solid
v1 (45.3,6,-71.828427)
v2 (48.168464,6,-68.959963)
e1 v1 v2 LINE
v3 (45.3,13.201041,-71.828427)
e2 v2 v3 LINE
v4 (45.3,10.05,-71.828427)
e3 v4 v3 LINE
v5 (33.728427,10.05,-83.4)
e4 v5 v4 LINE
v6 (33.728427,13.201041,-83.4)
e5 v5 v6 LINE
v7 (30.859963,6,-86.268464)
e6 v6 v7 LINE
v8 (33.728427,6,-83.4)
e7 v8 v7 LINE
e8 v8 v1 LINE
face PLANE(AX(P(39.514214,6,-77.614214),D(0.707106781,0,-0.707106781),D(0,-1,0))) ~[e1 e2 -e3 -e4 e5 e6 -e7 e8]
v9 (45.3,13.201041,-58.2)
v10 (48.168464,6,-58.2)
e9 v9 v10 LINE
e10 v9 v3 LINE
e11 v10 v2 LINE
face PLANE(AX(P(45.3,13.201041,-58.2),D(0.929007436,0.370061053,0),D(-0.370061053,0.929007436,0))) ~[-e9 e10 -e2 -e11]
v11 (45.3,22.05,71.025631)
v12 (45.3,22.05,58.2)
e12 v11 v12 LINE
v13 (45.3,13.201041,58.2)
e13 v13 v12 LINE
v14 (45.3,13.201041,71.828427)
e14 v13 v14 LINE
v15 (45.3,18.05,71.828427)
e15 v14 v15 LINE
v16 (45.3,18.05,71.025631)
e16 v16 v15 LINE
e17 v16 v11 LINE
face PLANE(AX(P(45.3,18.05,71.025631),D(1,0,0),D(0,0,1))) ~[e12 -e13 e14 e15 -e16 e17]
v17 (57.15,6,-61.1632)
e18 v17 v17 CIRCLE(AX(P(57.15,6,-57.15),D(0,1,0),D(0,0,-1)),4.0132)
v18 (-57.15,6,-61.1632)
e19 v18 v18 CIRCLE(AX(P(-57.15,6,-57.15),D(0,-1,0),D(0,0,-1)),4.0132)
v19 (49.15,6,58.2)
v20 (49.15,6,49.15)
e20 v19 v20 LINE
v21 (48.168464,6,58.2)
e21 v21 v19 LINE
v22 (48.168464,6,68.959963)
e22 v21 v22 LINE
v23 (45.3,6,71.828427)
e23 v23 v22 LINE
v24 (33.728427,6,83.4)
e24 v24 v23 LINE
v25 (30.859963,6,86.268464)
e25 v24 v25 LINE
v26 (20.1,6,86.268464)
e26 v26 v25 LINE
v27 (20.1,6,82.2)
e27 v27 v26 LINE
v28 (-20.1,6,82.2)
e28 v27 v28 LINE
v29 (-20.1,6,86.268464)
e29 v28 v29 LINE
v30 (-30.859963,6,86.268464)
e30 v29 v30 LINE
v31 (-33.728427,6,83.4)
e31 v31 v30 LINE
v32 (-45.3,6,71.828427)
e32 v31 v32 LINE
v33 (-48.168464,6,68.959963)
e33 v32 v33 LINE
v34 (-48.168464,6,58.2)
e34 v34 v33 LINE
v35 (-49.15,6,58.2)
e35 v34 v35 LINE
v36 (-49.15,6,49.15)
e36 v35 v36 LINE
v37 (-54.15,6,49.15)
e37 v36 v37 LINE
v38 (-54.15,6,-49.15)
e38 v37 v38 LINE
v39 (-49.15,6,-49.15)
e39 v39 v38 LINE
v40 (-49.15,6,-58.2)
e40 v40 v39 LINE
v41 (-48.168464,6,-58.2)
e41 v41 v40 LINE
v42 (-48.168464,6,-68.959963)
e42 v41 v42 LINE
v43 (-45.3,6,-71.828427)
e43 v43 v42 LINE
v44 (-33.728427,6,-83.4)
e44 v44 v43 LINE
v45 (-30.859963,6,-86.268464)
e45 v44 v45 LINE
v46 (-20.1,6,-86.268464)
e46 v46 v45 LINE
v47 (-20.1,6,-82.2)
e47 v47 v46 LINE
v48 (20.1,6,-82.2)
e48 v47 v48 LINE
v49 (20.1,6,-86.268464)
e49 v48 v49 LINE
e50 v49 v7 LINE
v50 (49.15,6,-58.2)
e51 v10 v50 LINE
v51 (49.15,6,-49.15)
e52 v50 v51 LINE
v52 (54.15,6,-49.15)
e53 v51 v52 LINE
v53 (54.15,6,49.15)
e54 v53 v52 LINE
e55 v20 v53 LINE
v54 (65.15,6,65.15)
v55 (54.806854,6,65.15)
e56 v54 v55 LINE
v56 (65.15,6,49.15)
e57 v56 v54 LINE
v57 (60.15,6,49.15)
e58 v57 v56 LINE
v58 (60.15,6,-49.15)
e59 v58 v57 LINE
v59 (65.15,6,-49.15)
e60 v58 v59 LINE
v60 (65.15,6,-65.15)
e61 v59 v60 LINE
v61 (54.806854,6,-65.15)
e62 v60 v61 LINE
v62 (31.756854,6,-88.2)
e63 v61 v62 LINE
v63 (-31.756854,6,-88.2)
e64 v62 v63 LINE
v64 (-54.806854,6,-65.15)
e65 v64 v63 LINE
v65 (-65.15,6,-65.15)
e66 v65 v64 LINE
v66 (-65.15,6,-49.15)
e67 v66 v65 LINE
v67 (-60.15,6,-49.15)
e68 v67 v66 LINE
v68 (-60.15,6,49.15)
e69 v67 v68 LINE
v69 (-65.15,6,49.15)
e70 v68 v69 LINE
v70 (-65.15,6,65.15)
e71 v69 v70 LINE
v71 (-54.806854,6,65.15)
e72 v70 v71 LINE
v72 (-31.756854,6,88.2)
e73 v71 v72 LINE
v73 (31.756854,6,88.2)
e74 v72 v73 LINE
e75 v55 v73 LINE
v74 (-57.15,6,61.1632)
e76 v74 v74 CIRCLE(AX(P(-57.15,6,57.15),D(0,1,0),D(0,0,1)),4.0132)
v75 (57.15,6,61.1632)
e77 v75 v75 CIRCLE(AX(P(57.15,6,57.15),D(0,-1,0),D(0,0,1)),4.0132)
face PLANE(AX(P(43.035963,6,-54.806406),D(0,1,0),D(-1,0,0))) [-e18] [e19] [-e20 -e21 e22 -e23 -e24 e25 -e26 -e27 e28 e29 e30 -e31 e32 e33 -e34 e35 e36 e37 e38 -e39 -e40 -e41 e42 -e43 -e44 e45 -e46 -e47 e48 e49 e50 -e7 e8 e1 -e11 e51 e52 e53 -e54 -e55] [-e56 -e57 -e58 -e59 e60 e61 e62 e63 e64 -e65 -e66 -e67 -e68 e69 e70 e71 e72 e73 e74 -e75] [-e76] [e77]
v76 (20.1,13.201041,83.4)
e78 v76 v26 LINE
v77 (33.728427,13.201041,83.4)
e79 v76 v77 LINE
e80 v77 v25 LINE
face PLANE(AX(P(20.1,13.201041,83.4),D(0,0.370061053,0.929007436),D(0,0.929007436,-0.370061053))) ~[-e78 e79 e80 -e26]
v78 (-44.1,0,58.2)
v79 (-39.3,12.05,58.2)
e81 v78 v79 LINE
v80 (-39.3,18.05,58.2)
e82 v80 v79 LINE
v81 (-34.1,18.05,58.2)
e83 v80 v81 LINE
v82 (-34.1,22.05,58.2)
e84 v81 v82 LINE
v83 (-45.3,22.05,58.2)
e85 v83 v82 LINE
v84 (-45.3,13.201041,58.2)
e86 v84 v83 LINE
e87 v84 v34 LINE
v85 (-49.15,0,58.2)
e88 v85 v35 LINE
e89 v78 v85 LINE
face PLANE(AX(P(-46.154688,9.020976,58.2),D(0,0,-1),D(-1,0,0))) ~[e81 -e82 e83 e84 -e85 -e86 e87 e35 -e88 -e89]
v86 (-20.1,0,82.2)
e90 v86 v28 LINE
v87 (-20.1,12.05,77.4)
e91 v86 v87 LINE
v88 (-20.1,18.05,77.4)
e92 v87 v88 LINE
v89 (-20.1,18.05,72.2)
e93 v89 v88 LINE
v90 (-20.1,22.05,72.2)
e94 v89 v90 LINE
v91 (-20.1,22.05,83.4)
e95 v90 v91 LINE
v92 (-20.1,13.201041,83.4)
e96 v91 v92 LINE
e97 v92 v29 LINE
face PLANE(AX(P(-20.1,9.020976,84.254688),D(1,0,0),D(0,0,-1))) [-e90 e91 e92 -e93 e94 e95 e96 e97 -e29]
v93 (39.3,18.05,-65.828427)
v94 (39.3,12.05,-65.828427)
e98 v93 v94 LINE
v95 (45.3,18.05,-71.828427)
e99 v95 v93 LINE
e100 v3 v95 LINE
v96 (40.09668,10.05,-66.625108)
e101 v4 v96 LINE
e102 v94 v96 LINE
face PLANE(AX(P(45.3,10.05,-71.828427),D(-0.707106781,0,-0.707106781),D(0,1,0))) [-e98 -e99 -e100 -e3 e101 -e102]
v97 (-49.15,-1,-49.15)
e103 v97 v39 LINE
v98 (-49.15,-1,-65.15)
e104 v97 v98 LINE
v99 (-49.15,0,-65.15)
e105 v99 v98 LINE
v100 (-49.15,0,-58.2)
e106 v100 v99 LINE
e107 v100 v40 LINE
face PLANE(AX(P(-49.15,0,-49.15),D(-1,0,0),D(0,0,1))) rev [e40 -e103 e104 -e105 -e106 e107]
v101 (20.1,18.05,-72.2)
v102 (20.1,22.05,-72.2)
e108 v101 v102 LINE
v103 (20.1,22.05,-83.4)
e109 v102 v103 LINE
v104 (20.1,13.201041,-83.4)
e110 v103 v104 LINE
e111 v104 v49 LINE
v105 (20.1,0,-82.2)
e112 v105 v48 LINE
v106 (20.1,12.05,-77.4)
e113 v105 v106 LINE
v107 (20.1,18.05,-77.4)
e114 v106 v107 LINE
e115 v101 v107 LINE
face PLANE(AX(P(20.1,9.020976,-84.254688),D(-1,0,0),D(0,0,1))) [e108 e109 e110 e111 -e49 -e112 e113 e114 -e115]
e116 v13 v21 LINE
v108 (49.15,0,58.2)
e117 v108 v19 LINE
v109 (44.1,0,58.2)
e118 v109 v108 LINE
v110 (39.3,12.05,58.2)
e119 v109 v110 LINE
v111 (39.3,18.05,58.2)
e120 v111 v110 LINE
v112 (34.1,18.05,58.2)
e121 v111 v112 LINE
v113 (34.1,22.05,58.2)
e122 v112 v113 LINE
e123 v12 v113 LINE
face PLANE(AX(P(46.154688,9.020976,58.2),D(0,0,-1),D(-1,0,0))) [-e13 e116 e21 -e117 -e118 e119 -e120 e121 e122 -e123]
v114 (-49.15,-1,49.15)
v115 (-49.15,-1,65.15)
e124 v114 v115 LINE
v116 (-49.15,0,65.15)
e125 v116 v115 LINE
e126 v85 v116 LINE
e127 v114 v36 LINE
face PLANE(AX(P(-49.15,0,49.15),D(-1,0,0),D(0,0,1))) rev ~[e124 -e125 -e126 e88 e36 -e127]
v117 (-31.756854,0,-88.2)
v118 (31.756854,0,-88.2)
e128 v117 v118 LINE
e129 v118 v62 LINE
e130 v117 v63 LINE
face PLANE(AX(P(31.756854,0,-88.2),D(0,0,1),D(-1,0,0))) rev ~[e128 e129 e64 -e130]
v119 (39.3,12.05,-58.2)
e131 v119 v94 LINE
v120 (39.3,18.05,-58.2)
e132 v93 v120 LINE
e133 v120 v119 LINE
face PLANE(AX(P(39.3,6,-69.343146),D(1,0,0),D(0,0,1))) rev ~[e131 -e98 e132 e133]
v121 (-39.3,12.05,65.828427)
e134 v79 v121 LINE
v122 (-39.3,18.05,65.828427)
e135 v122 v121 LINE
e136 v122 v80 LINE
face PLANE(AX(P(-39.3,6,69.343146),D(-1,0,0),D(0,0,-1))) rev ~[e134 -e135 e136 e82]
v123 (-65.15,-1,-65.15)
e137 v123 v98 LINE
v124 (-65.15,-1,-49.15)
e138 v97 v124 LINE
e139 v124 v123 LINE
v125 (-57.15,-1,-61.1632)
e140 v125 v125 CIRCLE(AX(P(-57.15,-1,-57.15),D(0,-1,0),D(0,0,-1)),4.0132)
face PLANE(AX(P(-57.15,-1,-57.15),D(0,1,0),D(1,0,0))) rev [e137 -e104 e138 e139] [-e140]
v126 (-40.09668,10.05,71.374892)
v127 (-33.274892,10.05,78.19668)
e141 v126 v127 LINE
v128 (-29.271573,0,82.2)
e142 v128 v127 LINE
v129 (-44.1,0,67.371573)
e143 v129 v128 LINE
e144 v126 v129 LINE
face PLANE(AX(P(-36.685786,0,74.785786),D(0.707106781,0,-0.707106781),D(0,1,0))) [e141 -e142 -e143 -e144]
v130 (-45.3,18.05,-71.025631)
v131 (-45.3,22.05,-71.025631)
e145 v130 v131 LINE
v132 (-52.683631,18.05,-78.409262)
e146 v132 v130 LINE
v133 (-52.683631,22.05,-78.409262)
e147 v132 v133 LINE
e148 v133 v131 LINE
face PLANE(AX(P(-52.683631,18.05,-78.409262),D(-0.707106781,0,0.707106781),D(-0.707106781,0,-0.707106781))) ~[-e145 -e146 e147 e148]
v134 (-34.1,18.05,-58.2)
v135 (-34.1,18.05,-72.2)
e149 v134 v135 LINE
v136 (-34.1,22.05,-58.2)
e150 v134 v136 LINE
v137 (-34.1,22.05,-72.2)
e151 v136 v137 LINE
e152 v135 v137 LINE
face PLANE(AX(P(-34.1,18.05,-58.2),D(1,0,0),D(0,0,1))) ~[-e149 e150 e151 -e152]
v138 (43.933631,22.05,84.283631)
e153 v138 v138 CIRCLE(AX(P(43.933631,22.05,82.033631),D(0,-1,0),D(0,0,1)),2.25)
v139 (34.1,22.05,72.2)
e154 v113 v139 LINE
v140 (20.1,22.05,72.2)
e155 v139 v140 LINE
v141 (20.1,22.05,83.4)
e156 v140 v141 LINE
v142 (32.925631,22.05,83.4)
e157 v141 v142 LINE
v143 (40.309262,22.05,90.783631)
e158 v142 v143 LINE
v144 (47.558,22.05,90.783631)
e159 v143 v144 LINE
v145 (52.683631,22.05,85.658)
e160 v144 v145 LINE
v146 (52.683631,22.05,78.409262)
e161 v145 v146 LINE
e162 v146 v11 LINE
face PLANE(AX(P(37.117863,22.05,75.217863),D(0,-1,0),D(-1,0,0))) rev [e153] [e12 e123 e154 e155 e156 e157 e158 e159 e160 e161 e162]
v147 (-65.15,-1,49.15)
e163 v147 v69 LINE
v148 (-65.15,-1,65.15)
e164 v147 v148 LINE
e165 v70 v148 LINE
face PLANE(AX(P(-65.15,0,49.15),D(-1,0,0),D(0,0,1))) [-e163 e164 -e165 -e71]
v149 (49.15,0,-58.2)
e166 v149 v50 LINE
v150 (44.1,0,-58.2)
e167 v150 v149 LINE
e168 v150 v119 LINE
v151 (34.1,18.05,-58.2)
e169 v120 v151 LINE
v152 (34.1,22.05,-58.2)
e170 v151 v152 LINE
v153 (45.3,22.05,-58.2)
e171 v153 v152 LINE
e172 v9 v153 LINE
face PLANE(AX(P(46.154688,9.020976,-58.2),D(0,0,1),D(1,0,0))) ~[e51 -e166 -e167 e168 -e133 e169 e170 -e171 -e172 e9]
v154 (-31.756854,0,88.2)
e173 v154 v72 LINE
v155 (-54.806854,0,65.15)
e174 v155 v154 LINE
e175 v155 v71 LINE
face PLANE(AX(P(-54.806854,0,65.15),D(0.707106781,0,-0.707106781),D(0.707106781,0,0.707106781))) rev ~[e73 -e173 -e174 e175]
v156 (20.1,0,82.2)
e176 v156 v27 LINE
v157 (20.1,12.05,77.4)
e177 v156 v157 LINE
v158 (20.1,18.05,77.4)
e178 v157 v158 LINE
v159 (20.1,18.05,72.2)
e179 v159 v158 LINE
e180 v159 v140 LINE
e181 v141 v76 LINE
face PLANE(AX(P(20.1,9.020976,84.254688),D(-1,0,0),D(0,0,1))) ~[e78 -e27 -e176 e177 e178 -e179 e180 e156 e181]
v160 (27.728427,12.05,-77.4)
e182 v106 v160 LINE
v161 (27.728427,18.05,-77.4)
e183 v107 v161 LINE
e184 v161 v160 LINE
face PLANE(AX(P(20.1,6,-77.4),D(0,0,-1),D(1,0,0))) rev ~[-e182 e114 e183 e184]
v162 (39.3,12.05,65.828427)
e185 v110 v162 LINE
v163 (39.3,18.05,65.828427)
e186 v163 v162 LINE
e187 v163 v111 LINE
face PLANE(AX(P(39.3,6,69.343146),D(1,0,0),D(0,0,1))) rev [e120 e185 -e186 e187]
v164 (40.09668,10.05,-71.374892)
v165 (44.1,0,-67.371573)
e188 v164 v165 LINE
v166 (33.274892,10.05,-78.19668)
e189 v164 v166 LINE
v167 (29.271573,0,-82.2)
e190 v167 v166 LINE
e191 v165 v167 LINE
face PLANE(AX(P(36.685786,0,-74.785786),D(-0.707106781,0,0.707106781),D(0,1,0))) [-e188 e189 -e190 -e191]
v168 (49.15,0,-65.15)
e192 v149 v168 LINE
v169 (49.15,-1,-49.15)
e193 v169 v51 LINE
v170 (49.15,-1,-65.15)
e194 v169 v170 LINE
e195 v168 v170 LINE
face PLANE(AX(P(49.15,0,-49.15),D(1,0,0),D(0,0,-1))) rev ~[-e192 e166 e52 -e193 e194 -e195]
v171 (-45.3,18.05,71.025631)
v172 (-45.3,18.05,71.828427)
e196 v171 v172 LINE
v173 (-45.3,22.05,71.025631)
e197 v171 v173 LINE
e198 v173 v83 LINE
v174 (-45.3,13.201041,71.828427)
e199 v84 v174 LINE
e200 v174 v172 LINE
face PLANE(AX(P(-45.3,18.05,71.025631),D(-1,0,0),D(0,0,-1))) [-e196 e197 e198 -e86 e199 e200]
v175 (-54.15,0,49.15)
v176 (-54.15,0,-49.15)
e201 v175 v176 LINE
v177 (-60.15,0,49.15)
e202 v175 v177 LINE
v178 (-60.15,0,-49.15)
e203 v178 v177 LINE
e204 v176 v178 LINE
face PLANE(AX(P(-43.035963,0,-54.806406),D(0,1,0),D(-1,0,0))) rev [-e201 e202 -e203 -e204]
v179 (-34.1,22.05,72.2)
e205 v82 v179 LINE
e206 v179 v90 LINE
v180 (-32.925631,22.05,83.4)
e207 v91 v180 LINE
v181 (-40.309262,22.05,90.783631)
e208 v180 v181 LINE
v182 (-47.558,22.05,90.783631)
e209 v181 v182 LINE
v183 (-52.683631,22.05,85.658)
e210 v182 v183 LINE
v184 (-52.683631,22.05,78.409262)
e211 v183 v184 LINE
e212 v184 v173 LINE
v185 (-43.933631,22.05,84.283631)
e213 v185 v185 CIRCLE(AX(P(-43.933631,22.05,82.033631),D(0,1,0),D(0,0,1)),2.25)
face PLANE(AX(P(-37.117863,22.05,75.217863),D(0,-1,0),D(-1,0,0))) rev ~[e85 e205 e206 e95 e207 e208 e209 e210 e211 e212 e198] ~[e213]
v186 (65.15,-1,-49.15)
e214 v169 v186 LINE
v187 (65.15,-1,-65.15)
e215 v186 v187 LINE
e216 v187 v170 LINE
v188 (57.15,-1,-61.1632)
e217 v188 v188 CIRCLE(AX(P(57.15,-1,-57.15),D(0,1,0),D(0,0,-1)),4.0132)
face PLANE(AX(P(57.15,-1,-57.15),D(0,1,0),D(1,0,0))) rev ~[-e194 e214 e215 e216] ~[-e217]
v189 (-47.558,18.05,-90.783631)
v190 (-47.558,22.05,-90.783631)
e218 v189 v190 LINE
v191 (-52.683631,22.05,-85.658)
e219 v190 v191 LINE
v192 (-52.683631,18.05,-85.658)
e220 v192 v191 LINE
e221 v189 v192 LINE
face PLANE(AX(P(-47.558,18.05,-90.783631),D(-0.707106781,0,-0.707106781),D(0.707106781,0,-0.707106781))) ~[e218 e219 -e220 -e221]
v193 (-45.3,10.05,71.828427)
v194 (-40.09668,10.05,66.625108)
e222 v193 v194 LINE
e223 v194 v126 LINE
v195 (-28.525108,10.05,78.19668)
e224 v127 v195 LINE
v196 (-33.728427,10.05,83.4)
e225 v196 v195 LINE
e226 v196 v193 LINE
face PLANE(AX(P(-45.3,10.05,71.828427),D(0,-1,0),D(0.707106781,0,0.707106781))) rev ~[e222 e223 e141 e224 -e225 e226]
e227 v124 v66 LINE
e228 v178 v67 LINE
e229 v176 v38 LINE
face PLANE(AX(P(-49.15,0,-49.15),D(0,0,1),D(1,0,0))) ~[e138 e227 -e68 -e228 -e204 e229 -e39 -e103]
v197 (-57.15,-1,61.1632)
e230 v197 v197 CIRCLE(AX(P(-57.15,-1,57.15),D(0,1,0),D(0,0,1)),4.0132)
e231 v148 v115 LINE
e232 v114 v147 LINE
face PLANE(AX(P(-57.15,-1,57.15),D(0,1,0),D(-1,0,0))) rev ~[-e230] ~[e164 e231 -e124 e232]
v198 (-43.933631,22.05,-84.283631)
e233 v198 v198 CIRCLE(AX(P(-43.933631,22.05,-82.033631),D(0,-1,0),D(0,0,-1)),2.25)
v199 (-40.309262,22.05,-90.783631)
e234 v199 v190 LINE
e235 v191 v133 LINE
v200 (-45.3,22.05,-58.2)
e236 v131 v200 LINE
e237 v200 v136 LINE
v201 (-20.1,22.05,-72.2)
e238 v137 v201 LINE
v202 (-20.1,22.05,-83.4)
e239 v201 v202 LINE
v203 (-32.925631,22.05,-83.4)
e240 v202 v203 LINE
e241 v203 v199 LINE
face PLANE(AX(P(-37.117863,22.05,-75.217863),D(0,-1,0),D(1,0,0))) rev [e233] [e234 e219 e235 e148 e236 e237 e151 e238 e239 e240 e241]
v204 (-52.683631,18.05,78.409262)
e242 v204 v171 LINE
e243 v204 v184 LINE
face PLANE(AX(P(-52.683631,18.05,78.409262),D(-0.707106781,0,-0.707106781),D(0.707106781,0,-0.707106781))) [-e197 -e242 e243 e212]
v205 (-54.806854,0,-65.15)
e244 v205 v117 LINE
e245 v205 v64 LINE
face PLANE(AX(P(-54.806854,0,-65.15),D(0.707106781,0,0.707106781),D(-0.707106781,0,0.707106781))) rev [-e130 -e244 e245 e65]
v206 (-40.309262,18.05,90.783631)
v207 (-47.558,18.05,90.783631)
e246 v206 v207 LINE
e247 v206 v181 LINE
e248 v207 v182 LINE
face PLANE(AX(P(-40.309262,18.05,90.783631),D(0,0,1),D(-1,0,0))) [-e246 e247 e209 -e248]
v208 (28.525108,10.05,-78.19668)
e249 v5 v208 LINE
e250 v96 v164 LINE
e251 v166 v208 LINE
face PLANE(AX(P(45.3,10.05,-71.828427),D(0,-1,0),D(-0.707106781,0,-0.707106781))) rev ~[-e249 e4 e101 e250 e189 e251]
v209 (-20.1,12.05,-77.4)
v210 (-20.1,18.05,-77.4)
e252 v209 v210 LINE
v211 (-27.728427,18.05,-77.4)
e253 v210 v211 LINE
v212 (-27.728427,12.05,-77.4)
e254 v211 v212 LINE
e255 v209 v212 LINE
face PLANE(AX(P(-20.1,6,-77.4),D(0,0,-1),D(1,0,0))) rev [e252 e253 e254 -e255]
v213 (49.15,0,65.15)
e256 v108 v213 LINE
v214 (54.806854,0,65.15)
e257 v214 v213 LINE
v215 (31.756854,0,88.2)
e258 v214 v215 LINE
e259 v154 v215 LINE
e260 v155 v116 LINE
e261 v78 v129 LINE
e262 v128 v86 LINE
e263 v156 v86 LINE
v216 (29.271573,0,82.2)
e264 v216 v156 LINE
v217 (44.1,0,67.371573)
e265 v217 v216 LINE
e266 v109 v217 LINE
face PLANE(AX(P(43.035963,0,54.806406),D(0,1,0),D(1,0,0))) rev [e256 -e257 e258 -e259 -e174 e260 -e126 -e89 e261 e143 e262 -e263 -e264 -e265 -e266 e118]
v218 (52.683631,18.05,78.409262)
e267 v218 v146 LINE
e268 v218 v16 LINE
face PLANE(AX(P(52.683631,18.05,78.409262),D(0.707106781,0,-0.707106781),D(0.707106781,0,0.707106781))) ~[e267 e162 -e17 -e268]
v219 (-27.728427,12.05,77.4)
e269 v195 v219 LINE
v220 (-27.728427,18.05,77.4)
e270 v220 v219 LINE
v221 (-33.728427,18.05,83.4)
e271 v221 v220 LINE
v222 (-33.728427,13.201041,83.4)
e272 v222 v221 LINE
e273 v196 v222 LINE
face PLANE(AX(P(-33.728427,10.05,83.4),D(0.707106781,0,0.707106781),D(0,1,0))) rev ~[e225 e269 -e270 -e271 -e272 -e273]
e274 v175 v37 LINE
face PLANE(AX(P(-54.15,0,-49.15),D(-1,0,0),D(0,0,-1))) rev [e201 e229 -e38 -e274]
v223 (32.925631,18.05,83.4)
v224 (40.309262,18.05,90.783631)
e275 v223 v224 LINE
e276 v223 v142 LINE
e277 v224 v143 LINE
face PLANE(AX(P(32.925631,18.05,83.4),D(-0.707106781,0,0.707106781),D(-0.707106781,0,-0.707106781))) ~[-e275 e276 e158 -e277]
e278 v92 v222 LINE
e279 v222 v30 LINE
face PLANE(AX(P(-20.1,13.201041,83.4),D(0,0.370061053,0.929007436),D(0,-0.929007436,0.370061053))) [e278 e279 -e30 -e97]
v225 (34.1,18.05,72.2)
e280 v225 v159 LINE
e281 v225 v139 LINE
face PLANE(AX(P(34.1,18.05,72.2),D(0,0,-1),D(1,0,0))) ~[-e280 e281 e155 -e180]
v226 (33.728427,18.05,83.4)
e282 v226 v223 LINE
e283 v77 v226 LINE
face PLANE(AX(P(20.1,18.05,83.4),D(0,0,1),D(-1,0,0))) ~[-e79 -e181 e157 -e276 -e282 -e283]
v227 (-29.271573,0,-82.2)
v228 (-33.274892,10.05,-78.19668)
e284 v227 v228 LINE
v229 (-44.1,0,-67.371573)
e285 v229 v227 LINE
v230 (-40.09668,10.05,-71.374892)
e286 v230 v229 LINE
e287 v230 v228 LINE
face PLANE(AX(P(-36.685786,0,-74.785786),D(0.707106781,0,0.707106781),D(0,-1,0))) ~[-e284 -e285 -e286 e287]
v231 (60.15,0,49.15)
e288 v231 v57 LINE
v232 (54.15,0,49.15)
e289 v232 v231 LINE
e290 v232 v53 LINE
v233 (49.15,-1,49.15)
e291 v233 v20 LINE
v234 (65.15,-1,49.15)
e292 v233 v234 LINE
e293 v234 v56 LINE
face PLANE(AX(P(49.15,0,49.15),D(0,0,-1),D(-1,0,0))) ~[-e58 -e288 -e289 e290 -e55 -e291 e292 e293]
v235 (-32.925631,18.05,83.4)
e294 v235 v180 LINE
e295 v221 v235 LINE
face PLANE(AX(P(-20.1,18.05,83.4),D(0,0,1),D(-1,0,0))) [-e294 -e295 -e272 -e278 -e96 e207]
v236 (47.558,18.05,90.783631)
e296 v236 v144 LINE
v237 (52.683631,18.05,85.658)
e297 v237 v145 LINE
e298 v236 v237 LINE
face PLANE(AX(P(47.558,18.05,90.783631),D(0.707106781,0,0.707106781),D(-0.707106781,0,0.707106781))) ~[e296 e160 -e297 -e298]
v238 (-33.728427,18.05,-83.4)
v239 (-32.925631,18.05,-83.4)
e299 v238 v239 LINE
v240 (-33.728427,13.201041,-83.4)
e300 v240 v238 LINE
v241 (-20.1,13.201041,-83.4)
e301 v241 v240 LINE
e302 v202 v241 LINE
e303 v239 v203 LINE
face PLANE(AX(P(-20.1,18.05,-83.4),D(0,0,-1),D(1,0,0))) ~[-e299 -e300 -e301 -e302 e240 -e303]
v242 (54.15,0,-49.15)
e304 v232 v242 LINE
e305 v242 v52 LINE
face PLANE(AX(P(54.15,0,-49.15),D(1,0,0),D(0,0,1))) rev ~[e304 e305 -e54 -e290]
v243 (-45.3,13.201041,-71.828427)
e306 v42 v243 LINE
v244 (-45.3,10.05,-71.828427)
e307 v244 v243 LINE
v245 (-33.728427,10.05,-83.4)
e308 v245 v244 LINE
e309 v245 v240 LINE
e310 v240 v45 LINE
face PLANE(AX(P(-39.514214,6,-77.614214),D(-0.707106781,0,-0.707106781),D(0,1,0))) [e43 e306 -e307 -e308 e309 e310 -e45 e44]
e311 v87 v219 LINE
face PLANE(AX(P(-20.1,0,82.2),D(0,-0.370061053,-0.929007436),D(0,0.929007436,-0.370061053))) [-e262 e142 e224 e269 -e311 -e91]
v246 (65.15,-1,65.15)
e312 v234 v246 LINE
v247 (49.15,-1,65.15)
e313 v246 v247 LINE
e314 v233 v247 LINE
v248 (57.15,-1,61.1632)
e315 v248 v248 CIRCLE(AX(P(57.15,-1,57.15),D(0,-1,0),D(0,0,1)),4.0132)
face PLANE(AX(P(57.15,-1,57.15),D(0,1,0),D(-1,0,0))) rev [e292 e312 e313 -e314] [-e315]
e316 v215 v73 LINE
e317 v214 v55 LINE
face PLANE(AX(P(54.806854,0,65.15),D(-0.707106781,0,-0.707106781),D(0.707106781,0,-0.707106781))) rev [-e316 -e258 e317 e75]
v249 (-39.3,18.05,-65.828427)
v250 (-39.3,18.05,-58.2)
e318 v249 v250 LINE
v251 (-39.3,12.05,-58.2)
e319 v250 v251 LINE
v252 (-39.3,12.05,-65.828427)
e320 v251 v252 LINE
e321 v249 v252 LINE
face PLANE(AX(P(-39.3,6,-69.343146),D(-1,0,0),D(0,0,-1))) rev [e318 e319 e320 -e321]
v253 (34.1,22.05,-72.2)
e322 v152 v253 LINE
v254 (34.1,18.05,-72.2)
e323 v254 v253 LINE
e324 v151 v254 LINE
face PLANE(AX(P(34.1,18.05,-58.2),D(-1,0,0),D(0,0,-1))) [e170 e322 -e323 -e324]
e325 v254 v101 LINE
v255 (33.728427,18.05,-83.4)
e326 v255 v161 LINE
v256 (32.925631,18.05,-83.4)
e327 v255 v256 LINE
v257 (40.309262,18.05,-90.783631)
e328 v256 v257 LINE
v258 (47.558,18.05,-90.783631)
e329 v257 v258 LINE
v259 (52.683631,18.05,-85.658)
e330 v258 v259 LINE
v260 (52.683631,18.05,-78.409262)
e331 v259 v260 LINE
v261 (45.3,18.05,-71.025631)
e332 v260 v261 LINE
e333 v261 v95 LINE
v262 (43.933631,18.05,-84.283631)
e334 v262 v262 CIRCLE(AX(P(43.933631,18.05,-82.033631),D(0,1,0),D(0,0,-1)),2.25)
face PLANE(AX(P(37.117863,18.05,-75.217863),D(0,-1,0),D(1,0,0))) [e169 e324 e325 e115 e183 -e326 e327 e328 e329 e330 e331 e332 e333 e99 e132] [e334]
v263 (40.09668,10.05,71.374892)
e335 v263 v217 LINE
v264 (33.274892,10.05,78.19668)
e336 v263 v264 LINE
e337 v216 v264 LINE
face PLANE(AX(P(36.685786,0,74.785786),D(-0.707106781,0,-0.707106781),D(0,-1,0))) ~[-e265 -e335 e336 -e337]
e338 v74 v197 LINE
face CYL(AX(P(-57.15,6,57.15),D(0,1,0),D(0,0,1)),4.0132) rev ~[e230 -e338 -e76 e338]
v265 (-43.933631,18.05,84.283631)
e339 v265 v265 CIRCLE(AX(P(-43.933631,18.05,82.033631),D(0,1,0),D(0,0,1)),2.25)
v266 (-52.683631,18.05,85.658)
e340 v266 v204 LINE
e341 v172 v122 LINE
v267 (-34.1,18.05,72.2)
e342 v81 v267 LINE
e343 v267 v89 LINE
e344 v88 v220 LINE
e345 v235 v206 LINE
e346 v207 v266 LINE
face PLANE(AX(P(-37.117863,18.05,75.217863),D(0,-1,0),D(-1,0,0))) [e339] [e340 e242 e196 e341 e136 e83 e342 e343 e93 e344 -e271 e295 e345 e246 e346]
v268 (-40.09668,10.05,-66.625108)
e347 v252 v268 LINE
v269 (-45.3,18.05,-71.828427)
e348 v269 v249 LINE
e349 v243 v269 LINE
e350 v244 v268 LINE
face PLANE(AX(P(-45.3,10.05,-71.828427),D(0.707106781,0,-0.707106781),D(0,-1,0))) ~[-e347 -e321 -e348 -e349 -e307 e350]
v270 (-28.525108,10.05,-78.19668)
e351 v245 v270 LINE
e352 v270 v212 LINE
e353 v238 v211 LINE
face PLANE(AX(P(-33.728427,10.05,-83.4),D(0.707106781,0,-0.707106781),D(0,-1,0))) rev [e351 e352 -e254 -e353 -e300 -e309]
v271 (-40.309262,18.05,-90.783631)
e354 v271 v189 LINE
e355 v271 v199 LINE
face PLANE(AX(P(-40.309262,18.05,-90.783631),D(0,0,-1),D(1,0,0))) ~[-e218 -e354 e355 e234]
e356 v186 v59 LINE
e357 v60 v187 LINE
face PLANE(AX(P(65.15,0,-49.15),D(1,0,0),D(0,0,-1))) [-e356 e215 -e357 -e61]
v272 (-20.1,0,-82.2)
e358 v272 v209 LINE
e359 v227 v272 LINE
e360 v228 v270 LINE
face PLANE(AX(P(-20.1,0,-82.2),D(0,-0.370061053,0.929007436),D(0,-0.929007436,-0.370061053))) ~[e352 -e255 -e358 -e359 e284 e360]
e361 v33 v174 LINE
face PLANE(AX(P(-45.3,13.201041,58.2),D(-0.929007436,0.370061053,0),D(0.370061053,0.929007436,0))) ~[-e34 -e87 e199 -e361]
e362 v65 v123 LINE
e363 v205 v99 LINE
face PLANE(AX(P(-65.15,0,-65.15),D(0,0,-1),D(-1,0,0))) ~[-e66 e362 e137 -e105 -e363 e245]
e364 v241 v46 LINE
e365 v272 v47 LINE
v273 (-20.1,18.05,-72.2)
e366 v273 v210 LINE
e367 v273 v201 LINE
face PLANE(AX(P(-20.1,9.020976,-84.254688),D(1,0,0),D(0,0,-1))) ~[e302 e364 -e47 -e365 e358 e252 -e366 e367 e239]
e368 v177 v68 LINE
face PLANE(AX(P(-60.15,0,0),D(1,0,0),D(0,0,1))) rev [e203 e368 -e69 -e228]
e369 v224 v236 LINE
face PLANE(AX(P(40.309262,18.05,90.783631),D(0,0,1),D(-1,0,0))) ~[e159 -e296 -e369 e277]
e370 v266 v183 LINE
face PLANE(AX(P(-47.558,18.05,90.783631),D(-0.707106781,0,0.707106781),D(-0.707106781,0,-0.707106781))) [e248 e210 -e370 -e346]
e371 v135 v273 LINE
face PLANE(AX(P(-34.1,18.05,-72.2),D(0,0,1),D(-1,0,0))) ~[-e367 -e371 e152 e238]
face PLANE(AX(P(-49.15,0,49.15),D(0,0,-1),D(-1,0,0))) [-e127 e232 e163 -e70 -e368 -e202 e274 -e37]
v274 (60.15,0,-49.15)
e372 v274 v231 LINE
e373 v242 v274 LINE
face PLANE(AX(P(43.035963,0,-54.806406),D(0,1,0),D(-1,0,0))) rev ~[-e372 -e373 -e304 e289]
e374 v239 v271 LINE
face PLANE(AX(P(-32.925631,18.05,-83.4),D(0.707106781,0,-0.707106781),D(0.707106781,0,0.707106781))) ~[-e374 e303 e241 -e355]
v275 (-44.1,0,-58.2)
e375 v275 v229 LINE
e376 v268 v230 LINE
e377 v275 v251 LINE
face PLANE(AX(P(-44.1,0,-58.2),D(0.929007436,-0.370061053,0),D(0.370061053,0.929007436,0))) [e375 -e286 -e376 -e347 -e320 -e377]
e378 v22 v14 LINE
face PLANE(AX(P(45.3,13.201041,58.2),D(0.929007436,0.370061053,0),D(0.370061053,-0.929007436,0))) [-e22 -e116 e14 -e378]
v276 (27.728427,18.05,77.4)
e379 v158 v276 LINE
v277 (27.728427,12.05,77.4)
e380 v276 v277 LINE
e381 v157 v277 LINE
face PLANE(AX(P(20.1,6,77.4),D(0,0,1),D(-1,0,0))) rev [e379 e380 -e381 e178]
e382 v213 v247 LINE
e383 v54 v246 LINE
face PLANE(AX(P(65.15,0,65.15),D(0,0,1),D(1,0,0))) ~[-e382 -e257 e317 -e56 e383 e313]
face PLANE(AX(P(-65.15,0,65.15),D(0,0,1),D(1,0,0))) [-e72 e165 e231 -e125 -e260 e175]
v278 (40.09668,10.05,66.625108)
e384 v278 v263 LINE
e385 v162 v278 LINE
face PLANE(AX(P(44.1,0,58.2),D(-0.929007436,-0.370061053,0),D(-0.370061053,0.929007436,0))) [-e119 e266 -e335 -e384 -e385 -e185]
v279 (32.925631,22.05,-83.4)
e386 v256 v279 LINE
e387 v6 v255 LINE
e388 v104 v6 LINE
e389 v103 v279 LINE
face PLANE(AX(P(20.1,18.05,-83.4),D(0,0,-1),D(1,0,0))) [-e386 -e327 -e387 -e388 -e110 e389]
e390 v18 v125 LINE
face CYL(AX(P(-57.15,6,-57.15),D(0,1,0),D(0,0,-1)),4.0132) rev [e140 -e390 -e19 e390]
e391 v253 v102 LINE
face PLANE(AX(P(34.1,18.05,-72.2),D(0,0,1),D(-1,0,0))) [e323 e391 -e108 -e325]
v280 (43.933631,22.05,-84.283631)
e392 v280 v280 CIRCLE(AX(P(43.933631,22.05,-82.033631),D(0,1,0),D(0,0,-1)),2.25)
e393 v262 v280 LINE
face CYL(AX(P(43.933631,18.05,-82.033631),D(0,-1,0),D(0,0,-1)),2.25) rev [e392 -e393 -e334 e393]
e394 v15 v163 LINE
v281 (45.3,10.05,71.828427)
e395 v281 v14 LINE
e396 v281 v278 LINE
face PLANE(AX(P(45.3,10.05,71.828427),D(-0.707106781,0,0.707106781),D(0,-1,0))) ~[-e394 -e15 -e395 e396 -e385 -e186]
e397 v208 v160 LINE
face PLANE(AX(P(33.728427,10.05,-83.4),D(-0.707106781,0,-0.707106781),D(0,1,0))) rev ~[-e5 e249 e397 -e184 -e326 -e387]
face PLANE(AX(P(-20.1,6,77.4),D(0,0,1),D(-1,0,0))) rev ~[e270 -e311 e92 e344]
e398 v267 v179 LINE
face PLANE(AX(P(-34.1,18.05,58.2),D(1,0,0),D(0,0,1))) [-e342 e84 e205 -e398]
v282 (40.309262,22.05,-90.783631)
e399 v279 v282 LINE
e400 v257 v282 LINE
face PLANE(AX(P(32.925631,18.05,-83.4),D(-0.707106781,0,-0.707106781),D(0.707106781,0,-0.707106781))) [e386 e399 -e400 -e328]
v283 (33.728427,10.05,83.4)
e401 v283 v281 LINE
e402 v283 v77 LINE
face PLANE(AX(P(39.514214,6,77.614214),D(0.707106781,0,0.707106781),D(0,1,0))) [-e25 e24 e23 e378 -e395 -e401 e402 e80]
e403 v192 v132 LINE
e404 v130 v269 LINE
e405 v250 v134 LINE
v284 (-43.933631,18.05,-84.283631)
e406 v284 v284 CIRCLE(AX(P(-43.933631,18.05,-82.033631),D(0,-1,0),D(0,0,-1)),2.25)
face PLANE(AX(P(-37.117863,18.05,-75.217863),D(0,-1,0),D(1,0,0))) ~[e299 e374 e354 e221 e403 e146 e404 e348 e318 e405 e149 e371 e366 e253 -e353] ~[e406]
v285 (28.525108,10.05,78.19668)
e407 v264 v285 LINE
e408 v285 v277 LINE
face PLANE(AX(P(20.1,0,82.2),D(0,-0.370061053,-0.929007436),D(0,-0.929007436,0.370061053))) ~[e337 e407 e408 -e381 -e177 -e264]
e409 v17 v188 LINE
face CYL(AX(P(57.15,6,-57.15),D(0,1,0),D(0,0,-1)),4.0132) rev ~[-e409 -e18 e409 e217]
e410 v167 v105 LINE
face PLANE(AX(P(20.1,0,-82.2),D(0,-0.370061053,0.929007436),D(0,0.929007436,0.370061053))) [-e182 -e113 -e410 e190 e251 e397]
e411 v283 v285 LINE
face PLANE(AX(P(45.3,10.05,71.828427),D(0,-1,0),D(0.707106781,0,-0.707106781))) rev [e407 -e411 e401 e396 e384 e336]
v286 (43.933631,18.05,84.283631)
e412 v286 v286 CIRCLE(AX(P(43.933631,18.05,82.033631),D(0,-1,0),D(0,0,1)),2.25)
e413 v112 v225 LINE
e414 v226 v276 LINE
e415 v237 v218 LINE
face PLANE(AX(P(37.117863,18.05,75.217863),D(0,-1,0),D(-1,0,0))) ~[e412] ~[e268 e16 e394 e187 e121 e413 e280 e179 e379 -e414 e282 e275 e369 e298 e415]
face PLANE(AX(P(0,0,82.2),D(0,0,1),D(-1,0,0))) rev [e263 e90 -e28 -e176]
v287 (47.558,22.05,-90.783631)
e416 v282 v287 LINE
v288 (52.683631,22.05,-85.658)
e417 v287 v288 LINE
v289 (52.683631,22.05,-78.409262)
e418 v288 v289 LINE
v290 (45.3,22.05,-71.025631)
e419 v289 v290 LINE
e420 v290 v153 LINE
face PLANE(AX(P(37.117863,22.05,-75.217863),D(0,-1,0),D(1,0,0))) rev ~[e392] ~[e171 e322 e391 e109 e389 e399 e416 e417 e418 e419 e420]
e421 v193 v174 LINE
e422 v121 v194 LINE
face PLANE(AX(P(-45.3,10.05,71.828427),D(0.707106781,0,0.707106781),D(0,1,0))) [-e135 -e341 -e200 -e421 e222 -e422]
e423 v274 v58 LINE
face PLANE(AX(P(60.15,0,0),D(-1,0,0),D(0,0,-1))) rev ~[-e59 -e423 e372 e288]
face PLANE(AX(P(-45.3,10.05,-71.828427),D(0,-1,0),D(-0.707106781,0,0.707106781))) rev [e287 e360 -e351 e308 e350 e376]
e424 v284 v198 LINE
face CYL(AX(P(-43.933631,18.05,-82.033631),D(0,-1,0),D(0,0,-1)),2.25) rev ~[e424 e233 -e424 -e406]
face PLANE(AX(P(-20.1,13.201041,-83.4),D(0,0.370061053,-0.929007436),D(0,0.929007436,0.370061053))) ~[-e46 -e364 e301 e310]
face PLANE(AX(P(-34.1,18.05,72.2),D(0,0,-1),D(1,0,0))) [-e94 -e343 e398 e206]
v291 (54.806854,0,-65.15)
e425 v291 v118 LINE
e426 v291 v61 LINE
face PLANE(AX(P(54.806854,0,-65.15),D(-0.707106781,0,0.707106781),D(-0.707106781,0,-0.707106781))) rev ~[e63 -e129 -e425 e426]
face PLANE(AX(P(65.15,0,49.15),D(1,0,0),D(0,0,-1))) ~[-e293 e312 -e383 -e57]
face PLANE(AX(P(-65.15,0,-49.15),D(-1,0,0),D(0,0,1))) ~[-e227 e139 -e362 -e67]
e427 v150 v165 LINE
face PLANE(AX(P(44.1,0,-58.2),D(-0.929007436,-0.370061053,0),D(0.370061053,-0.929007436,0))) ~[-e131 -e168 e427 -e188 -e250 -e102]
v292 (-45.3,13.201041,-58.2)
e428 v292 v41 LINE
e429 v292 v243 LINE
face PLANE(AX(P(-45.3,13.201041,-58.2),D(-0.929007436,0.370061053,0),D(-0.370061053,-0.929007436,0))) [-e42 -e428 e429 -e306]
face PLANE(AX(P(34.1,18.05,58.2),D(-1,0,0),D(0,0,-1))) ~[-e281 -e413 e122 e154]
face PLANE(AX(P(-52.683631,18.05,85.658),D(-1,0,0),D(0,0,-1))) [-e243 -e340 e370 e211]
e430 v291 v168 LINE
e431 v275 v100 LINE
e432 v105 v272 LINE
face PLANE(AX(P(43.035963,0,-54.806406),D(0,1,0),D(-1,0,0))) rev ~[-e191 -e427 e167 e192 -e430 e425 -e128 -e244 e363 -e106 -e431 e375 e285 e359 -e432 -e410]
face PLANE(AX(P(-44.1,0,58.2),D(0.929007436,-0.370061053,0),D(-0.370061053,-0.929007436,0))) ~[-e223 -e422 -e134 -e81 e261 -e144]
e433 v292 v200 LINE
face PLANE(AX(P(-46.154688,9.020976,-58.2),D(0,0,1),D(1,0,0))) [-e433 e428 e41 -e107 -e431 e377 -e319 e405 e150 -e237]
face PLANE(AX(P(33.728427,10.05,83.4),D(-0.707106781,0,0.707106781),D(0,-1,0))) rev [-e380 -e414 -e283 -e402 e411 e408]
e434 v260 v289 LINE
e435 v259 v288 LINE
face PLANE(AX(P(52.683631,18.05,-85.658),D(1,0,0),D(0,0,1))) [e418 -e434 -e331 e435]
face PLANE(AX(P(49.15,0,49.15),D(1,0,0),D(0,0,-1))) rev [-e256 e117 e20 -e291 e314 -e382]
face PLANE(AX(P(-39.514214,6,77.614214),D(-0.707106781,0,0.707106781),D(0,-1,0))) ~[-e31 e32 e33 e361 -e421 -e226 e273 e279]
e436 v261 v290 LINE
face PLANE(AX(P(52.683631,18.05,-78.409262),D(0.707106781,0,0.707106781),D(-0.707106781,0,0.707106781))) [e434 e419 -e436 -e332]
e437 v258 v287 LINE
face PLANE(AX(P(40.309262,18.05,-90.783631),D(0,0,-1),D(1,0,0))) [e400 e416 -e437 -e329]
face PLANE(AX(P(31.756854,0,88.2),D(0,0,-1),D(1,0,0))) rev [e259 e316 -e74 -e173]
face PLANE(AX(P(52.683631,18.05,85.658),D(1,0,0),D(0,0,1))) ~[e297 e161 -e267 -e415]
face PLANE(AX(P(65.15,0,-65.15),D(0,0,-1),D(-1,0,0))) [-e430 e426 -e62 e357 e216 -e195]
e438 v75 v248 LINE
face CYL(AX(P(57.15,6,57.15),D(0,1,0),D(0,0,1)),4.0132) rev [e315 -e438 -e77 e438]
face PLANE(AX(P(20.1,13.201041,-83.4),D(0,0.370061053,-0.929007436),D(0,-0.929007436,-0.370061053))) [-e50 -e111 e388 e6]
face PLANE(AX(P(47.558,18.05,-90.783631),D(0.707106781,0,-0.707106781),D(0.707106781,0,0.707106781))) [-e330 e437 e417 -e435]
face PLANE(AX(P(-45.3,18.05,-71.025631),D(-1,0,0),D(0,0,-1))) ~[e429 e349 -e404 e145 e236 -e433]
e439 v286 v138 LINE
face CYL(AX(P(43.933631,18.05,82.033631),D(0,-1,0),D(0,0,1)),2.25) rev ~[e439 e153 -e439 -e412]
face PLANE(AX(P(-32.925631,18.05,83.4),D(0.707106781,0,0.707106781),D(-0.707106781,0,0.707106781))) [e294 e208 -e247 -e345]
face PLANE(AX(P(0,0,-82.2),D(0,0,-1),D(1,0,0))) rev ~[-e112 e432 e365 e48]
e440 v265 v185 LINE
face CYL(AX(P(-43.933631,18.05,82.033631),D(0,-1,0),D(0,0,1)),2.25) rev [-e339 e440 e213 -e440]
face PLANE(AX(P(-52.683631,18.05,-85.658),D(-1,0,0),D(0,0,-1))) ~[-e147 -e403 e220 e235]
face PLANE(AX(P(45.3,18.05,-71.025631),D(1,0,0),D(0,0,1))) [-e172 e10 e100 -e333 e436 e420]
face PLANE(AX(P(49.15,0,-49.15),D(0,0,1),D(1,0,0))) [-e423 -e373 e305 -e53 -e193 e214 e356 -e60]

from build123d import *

# Parameters (mm, degrees)
BOSS_EXTRUDE1_DEPTH            = 6
BOSS_EXTRUDE2_DEPTH            = 1
BOSS_EXTRUDE3_DEPTH            = 12.05
SKETCH4_R                      = 2.25
BOSS_EXTRUDE4_DEPTH            = 4
CUT_EXTRUDE1_REACH             = 87.707
SKETCH5_W                      = 16.364675298
SKETCH5_H                      = 8
CUT_EXTRUDE1_DIRECTION_2_DEPTH = 86.707273439
CUT_EXTRUDE2_DEPTH             = 9.171573
CUT_EXTRUDE3_REACH             = 114.79
SKETCH8_W                      = 3.39411255
SKETCH8_H                      = 10.05
CUT_EXTRUDE3_DIRECTION_2_REACH = 114.79
BOSS_EXTRUDE5_DEPTH            = 13.628427
CUT_EXTRUDE4_DEPTH             = 113.7898768
SKETCH12_R                     = 4.0132
CUT_EXTRUDE5_DEPTH             = 113.888407941


with BuildPart() as part:
    # Sketch1 → Boss-Extrude1 (new body)
    with BuildSketch(Plane(origin=(0, 0, 0), x_dir=(1, 0, 0), z_dir=(0, 1, 0))):
        Polygon((-54.15, 0), (-60.15, 0), (-60.15, -49.15), (-65.15, -49.15), (-65.15, -65.15), (-54.806854249, -65.15), (-31.756854249, -88.2), (0, -88.2), (0, -82.2), (-20.1, -82.2), (-20.1, -77.4), (-31.243145751, -77.4), (-39.3, -69.343145751), (-39.3, -58.2), (-49.15, -58.2), (-49.15, -49.15), (-54.15, -49.15), align=None)
    extrude(amount=BOSS_EXTRUDE1_DEPTH)

    # Sketch2 → Boss-Extrude2 (add)
    with BuildSketch(Plane.XZ):
        Polygon((-49.15, 58.2), (-49.15, 49.15), (-65.15, 49.15), (-65.15, 65.15), (-49.15, 65.15), align=None)
    extrude(amount=BOSS_EXTRUDE2_DEPTH)

    # Sketch3 → Boss-Extrude3 (add)
    with BuildSketch(Plane(origin=(0, 6, 0), x_dir=(1, 0, 0), z_dir=(0, 1, 0))):
        Polygon((-39.3, -58.2), (-45.3, -58.2), (-45.3, -71.828427125), (-33.728427125, -83.4), (-20.1, -83.4), (-20.1, -77.4), (-31.243145751, -77.4), (-39.3, -69.343145751), align=None)
    extrude(amount=BOSS_EXTRUDE3_DEPTH)

    # Sketch4 → Boss-Extrude4 (add)
    with BuildSketch(Plane(origin=(0, 18.05, 0), x_dir=(1, 0, 0), z_dir=(0, 1, 0))):
        Polygon((-45.3, -58.2), (-34.1, -58.2), (-34.1, -72.2), (-20.1, -72.2), (-20.1, -83.4), (-32.925631329, -83.4), (-40.309262274, -90.783630945), (-47.557999616, -90.783630945), (-52.683630945, -85.657999616), (-52.683630945, -78.409262274), (-45.3, -71.025631329), align=None)
        with Locations(Location((-43.933630945, -82.033630945, 0), (0, 0, 270))):
            Circle(SKETCH4_R, mode=Mode.SUBTRACT)
    extrude(amount=BOSS_EXTRUDE4_DEPTH)

    # Sketch5 → Cut-Extrude1 (cut, up to next)
    with BuildSketch(Plane(origin=(-58.564213562, 0, 58.564213562), x_dir=(0.7071067811865475, 0, 0.7071067811865477), z_dir=(-0.7071067811865477, 0, 0.7071067811865475)), mode=Mode.PRIVATE) as cut_extrude1_sk1:
        with Locations((26.940768363, 14.05)):
            Rectangle(SKETCH5_W, SKETCH5_H)
    cut_extrude1_tool1 = extrude(cut_extrude1_sk1.sketch, amount=-CUT_EXTRUDE1_REACH, mode=Mode.PRIVATE) & part.part
    add(cut_extrude1_tool1.solids().sort_by_distance((-39.514214, 14.05, 77.614214))[0], mode=Mode.SUBTRACT)

    # Sketch5 → Cut-Extrude1 direction 2 (cut)
    with BuildSketch(Plane(origin=(-58.564213562, 0, 58.564213562), x_dir=(0.7071067811865475, 0, 0.7071067811865477), z_dir=(-0.7071067811865477, 0, 0.7071067811865475))):
        with Locations((26.940768363, 14.05)):
            Rectangle(SKETCH5_W, SKETCH5_H)
    extrude(amount=CUT_EXTRUDE1_DIRECTION_2_DEPTH, mode=Mode.SUBTRACT)

    # Sketch6 → Cut-Extrude2 (cut)
    with BuildSketch(Plane(origin=(-20.1, 0, 0), x_dir=(0, 0, -1), z_dir=(1, 0, 0))):
        Polygon((-82.2, 0), (-77.4, 12.05), (-77.4, 0), align=None)
    cut_extrude2 = extrude(amount=-CUT_EXTRUDE2_DEPTH, mode=Mode.SUBTRACT)

    # Mirror1: Cut-Extrude2 across plane
    add(cut_extrude2.mirror(Plane(origin=(19.05, 0, 19.05), x_dir=(-0.7071067811865477, 0, 0.7071067811865474), z_dir=(0.7071067811865476, 0, 0.7071067811865476))), mode=Mode.SUBTRACT)

    # Cut-Extrude3: up to this plane
    cut_extrude3_end = Plane(origin=(-44.1, 0, 67.371572875), z_dir=(0.9290074363039443, -0.3700610534654694, 0))
    # Sketch8 → Cut-Extrude3 (cut, up to the surface)
    with BuildSketch(Plane(origin=(19.05, 0, 19.05), x_dir=(0.7071067811865476, 0, -0.7071067811865476), z_dir=(0.7071067811865476, 0, 0.7071067811865476)), mode=Mode.PRIVATE) as cut_extrude3_sk1:
        with Locations((-77.125248815, 5.025)):
            Rectangle(SKETCH8_W, SKETCH8_H)
    cut_extrude3_tool1 = split(extrude(cut_extrude3_sk1.sketch, amount=-CUT_EXTRUDE3_REACH, mode=Mode.PRIVATE), bisect_by=cut_extrude3_end, keep=Keep.BOTH, mode=Mode.PRIVATE)
    add(cut_extrude3_tool1.solids().sort_by_distance((-35.485786, 5.025, 73.585786))[0], mode=Mode.SUBTRACT)

    # Cut-Extrude3 direction 2: up to this plane
    cut_extrude3_direction_2_end = Plane(origin=(-29.271572875, 0, 82.2), z_dir=(0, 0.3700610534654694, 0.9290074363039443))
    # Sketch8 → Cut-Extrude3 direction 2 (cut, up to the surface)
    with BuildSketch(Plane(origin=(19.05, 0, 19.05), x_dir=(0.7071067811865476, 0, -0.7071067811865476), z_dir=(0.7071067811865476, 0, 0.7071067811865476)), mode=Mode.PRIVATE) as cut_extrude3_direction_2_sk1:
        with Locations((-77.125248815, 5.025)):
            Rectangle(SKETCH8_W, SKETCH8_H)
    cut_extrude3_direction_2_tool1 = split(extrude(cut_extrude3_direction_2_sk1.sketch, amount=CUT_EXTRUDE3_DIRECTION_2_REACH, mode=Mode.PRIVATE), bisect_by=cut_extrude3_direction_2_end, keep=Keep.BOTH, mode=Mode.PRIVATE)
    add(cut_extrude3_direction_2_tool1.solids().sort_by_distance((-35.485786, 5.025, 73.585786))[0], mode=Mode.SUBTRACT)

    # Sketch10 → Boss-Extrude5 (add)
    with BuildSketch(Plane(origin=(-20.1, 0, 0), x_dir=(0, 0, -1), z_dir=(1, 0, 0))):
        Polygon((-83.4, 13.20104083), (-86.268464397, 6), (-83.4, 6), align=None)
    boss_extrude5 = extrude(amount=-BOSS_EXTRUDE5_DEPTH)

    # Sketch11 → Cut-Extrude4 (cut, through all)
    with BuildSketch(Plane(origin=(19.05, 0, 19.05), x_dir=(0.7071067811865476, 0, -0.7071067811865476), z_dir=(0.7071067811865476, 0, 0.7071067811865476))):
        Polygon((-82.82230509, 13.20104083), (-84.850615716, 6), (-82.82230509, 6), align=None)
    cut_extrude4 = extrude(amount=CUT_EXTRUDE4_DEPTH, mode=Mode.SUBTRACT)

    # Mirror2: Boss-Extrude5, Cut-Extrude4 across plane
    add(boss_extrude5.mirror(Plane(origin=(19.05, 0, 19.05), x_dir=(-0.7071067811865477, 0, 0.7071067811865474), z_dir=(0.7071067811865476, 0, 0.7071067811865476))))
    add(cut_extrude4.mirror(Plane(origin=(19.05, 0, 19.05), x_dir=(-0.7071067811865477, 0, 0.7071067811865474), z_dir=(0.7071067811865476, 0, 0.7071067811865476))), mode=Mode.SUBTRACT)

    # Sketch12 → Cut-Extrude5 (cut, through all)
    with BuildSketch(Plane(origin=(0, 6, 0), x_dir=(1, 0, 0), z_dir=(0, 1, 0))):
        with Locations(Location((-57.15, -57.15, 0), (0, 0, 270))):
            Circle(SKETCH12_R)
    extrude(amount=-CUT_EXTRUDE5_DEPTH, mode=Mode.SUBTRACT)

    # Mirror3: part across plane


with BuildPart() as part_1:
    add(part.part)
    add(part.part.mirror(Plane(origin=(-54.15, 6, 0), x_dir=(1, 0, 0), z_dir=(0, 0, 1))))

    # Mirror4: part across plane


with BuildPart() as part_2:
    add(part_1.part)
    add(part_1.part.mirror(Plane(origin=(0, 6, -88.2), x_dir=(0, 0, 1), z_dir=(-1, 0, 0))))


solid = part_2.part
